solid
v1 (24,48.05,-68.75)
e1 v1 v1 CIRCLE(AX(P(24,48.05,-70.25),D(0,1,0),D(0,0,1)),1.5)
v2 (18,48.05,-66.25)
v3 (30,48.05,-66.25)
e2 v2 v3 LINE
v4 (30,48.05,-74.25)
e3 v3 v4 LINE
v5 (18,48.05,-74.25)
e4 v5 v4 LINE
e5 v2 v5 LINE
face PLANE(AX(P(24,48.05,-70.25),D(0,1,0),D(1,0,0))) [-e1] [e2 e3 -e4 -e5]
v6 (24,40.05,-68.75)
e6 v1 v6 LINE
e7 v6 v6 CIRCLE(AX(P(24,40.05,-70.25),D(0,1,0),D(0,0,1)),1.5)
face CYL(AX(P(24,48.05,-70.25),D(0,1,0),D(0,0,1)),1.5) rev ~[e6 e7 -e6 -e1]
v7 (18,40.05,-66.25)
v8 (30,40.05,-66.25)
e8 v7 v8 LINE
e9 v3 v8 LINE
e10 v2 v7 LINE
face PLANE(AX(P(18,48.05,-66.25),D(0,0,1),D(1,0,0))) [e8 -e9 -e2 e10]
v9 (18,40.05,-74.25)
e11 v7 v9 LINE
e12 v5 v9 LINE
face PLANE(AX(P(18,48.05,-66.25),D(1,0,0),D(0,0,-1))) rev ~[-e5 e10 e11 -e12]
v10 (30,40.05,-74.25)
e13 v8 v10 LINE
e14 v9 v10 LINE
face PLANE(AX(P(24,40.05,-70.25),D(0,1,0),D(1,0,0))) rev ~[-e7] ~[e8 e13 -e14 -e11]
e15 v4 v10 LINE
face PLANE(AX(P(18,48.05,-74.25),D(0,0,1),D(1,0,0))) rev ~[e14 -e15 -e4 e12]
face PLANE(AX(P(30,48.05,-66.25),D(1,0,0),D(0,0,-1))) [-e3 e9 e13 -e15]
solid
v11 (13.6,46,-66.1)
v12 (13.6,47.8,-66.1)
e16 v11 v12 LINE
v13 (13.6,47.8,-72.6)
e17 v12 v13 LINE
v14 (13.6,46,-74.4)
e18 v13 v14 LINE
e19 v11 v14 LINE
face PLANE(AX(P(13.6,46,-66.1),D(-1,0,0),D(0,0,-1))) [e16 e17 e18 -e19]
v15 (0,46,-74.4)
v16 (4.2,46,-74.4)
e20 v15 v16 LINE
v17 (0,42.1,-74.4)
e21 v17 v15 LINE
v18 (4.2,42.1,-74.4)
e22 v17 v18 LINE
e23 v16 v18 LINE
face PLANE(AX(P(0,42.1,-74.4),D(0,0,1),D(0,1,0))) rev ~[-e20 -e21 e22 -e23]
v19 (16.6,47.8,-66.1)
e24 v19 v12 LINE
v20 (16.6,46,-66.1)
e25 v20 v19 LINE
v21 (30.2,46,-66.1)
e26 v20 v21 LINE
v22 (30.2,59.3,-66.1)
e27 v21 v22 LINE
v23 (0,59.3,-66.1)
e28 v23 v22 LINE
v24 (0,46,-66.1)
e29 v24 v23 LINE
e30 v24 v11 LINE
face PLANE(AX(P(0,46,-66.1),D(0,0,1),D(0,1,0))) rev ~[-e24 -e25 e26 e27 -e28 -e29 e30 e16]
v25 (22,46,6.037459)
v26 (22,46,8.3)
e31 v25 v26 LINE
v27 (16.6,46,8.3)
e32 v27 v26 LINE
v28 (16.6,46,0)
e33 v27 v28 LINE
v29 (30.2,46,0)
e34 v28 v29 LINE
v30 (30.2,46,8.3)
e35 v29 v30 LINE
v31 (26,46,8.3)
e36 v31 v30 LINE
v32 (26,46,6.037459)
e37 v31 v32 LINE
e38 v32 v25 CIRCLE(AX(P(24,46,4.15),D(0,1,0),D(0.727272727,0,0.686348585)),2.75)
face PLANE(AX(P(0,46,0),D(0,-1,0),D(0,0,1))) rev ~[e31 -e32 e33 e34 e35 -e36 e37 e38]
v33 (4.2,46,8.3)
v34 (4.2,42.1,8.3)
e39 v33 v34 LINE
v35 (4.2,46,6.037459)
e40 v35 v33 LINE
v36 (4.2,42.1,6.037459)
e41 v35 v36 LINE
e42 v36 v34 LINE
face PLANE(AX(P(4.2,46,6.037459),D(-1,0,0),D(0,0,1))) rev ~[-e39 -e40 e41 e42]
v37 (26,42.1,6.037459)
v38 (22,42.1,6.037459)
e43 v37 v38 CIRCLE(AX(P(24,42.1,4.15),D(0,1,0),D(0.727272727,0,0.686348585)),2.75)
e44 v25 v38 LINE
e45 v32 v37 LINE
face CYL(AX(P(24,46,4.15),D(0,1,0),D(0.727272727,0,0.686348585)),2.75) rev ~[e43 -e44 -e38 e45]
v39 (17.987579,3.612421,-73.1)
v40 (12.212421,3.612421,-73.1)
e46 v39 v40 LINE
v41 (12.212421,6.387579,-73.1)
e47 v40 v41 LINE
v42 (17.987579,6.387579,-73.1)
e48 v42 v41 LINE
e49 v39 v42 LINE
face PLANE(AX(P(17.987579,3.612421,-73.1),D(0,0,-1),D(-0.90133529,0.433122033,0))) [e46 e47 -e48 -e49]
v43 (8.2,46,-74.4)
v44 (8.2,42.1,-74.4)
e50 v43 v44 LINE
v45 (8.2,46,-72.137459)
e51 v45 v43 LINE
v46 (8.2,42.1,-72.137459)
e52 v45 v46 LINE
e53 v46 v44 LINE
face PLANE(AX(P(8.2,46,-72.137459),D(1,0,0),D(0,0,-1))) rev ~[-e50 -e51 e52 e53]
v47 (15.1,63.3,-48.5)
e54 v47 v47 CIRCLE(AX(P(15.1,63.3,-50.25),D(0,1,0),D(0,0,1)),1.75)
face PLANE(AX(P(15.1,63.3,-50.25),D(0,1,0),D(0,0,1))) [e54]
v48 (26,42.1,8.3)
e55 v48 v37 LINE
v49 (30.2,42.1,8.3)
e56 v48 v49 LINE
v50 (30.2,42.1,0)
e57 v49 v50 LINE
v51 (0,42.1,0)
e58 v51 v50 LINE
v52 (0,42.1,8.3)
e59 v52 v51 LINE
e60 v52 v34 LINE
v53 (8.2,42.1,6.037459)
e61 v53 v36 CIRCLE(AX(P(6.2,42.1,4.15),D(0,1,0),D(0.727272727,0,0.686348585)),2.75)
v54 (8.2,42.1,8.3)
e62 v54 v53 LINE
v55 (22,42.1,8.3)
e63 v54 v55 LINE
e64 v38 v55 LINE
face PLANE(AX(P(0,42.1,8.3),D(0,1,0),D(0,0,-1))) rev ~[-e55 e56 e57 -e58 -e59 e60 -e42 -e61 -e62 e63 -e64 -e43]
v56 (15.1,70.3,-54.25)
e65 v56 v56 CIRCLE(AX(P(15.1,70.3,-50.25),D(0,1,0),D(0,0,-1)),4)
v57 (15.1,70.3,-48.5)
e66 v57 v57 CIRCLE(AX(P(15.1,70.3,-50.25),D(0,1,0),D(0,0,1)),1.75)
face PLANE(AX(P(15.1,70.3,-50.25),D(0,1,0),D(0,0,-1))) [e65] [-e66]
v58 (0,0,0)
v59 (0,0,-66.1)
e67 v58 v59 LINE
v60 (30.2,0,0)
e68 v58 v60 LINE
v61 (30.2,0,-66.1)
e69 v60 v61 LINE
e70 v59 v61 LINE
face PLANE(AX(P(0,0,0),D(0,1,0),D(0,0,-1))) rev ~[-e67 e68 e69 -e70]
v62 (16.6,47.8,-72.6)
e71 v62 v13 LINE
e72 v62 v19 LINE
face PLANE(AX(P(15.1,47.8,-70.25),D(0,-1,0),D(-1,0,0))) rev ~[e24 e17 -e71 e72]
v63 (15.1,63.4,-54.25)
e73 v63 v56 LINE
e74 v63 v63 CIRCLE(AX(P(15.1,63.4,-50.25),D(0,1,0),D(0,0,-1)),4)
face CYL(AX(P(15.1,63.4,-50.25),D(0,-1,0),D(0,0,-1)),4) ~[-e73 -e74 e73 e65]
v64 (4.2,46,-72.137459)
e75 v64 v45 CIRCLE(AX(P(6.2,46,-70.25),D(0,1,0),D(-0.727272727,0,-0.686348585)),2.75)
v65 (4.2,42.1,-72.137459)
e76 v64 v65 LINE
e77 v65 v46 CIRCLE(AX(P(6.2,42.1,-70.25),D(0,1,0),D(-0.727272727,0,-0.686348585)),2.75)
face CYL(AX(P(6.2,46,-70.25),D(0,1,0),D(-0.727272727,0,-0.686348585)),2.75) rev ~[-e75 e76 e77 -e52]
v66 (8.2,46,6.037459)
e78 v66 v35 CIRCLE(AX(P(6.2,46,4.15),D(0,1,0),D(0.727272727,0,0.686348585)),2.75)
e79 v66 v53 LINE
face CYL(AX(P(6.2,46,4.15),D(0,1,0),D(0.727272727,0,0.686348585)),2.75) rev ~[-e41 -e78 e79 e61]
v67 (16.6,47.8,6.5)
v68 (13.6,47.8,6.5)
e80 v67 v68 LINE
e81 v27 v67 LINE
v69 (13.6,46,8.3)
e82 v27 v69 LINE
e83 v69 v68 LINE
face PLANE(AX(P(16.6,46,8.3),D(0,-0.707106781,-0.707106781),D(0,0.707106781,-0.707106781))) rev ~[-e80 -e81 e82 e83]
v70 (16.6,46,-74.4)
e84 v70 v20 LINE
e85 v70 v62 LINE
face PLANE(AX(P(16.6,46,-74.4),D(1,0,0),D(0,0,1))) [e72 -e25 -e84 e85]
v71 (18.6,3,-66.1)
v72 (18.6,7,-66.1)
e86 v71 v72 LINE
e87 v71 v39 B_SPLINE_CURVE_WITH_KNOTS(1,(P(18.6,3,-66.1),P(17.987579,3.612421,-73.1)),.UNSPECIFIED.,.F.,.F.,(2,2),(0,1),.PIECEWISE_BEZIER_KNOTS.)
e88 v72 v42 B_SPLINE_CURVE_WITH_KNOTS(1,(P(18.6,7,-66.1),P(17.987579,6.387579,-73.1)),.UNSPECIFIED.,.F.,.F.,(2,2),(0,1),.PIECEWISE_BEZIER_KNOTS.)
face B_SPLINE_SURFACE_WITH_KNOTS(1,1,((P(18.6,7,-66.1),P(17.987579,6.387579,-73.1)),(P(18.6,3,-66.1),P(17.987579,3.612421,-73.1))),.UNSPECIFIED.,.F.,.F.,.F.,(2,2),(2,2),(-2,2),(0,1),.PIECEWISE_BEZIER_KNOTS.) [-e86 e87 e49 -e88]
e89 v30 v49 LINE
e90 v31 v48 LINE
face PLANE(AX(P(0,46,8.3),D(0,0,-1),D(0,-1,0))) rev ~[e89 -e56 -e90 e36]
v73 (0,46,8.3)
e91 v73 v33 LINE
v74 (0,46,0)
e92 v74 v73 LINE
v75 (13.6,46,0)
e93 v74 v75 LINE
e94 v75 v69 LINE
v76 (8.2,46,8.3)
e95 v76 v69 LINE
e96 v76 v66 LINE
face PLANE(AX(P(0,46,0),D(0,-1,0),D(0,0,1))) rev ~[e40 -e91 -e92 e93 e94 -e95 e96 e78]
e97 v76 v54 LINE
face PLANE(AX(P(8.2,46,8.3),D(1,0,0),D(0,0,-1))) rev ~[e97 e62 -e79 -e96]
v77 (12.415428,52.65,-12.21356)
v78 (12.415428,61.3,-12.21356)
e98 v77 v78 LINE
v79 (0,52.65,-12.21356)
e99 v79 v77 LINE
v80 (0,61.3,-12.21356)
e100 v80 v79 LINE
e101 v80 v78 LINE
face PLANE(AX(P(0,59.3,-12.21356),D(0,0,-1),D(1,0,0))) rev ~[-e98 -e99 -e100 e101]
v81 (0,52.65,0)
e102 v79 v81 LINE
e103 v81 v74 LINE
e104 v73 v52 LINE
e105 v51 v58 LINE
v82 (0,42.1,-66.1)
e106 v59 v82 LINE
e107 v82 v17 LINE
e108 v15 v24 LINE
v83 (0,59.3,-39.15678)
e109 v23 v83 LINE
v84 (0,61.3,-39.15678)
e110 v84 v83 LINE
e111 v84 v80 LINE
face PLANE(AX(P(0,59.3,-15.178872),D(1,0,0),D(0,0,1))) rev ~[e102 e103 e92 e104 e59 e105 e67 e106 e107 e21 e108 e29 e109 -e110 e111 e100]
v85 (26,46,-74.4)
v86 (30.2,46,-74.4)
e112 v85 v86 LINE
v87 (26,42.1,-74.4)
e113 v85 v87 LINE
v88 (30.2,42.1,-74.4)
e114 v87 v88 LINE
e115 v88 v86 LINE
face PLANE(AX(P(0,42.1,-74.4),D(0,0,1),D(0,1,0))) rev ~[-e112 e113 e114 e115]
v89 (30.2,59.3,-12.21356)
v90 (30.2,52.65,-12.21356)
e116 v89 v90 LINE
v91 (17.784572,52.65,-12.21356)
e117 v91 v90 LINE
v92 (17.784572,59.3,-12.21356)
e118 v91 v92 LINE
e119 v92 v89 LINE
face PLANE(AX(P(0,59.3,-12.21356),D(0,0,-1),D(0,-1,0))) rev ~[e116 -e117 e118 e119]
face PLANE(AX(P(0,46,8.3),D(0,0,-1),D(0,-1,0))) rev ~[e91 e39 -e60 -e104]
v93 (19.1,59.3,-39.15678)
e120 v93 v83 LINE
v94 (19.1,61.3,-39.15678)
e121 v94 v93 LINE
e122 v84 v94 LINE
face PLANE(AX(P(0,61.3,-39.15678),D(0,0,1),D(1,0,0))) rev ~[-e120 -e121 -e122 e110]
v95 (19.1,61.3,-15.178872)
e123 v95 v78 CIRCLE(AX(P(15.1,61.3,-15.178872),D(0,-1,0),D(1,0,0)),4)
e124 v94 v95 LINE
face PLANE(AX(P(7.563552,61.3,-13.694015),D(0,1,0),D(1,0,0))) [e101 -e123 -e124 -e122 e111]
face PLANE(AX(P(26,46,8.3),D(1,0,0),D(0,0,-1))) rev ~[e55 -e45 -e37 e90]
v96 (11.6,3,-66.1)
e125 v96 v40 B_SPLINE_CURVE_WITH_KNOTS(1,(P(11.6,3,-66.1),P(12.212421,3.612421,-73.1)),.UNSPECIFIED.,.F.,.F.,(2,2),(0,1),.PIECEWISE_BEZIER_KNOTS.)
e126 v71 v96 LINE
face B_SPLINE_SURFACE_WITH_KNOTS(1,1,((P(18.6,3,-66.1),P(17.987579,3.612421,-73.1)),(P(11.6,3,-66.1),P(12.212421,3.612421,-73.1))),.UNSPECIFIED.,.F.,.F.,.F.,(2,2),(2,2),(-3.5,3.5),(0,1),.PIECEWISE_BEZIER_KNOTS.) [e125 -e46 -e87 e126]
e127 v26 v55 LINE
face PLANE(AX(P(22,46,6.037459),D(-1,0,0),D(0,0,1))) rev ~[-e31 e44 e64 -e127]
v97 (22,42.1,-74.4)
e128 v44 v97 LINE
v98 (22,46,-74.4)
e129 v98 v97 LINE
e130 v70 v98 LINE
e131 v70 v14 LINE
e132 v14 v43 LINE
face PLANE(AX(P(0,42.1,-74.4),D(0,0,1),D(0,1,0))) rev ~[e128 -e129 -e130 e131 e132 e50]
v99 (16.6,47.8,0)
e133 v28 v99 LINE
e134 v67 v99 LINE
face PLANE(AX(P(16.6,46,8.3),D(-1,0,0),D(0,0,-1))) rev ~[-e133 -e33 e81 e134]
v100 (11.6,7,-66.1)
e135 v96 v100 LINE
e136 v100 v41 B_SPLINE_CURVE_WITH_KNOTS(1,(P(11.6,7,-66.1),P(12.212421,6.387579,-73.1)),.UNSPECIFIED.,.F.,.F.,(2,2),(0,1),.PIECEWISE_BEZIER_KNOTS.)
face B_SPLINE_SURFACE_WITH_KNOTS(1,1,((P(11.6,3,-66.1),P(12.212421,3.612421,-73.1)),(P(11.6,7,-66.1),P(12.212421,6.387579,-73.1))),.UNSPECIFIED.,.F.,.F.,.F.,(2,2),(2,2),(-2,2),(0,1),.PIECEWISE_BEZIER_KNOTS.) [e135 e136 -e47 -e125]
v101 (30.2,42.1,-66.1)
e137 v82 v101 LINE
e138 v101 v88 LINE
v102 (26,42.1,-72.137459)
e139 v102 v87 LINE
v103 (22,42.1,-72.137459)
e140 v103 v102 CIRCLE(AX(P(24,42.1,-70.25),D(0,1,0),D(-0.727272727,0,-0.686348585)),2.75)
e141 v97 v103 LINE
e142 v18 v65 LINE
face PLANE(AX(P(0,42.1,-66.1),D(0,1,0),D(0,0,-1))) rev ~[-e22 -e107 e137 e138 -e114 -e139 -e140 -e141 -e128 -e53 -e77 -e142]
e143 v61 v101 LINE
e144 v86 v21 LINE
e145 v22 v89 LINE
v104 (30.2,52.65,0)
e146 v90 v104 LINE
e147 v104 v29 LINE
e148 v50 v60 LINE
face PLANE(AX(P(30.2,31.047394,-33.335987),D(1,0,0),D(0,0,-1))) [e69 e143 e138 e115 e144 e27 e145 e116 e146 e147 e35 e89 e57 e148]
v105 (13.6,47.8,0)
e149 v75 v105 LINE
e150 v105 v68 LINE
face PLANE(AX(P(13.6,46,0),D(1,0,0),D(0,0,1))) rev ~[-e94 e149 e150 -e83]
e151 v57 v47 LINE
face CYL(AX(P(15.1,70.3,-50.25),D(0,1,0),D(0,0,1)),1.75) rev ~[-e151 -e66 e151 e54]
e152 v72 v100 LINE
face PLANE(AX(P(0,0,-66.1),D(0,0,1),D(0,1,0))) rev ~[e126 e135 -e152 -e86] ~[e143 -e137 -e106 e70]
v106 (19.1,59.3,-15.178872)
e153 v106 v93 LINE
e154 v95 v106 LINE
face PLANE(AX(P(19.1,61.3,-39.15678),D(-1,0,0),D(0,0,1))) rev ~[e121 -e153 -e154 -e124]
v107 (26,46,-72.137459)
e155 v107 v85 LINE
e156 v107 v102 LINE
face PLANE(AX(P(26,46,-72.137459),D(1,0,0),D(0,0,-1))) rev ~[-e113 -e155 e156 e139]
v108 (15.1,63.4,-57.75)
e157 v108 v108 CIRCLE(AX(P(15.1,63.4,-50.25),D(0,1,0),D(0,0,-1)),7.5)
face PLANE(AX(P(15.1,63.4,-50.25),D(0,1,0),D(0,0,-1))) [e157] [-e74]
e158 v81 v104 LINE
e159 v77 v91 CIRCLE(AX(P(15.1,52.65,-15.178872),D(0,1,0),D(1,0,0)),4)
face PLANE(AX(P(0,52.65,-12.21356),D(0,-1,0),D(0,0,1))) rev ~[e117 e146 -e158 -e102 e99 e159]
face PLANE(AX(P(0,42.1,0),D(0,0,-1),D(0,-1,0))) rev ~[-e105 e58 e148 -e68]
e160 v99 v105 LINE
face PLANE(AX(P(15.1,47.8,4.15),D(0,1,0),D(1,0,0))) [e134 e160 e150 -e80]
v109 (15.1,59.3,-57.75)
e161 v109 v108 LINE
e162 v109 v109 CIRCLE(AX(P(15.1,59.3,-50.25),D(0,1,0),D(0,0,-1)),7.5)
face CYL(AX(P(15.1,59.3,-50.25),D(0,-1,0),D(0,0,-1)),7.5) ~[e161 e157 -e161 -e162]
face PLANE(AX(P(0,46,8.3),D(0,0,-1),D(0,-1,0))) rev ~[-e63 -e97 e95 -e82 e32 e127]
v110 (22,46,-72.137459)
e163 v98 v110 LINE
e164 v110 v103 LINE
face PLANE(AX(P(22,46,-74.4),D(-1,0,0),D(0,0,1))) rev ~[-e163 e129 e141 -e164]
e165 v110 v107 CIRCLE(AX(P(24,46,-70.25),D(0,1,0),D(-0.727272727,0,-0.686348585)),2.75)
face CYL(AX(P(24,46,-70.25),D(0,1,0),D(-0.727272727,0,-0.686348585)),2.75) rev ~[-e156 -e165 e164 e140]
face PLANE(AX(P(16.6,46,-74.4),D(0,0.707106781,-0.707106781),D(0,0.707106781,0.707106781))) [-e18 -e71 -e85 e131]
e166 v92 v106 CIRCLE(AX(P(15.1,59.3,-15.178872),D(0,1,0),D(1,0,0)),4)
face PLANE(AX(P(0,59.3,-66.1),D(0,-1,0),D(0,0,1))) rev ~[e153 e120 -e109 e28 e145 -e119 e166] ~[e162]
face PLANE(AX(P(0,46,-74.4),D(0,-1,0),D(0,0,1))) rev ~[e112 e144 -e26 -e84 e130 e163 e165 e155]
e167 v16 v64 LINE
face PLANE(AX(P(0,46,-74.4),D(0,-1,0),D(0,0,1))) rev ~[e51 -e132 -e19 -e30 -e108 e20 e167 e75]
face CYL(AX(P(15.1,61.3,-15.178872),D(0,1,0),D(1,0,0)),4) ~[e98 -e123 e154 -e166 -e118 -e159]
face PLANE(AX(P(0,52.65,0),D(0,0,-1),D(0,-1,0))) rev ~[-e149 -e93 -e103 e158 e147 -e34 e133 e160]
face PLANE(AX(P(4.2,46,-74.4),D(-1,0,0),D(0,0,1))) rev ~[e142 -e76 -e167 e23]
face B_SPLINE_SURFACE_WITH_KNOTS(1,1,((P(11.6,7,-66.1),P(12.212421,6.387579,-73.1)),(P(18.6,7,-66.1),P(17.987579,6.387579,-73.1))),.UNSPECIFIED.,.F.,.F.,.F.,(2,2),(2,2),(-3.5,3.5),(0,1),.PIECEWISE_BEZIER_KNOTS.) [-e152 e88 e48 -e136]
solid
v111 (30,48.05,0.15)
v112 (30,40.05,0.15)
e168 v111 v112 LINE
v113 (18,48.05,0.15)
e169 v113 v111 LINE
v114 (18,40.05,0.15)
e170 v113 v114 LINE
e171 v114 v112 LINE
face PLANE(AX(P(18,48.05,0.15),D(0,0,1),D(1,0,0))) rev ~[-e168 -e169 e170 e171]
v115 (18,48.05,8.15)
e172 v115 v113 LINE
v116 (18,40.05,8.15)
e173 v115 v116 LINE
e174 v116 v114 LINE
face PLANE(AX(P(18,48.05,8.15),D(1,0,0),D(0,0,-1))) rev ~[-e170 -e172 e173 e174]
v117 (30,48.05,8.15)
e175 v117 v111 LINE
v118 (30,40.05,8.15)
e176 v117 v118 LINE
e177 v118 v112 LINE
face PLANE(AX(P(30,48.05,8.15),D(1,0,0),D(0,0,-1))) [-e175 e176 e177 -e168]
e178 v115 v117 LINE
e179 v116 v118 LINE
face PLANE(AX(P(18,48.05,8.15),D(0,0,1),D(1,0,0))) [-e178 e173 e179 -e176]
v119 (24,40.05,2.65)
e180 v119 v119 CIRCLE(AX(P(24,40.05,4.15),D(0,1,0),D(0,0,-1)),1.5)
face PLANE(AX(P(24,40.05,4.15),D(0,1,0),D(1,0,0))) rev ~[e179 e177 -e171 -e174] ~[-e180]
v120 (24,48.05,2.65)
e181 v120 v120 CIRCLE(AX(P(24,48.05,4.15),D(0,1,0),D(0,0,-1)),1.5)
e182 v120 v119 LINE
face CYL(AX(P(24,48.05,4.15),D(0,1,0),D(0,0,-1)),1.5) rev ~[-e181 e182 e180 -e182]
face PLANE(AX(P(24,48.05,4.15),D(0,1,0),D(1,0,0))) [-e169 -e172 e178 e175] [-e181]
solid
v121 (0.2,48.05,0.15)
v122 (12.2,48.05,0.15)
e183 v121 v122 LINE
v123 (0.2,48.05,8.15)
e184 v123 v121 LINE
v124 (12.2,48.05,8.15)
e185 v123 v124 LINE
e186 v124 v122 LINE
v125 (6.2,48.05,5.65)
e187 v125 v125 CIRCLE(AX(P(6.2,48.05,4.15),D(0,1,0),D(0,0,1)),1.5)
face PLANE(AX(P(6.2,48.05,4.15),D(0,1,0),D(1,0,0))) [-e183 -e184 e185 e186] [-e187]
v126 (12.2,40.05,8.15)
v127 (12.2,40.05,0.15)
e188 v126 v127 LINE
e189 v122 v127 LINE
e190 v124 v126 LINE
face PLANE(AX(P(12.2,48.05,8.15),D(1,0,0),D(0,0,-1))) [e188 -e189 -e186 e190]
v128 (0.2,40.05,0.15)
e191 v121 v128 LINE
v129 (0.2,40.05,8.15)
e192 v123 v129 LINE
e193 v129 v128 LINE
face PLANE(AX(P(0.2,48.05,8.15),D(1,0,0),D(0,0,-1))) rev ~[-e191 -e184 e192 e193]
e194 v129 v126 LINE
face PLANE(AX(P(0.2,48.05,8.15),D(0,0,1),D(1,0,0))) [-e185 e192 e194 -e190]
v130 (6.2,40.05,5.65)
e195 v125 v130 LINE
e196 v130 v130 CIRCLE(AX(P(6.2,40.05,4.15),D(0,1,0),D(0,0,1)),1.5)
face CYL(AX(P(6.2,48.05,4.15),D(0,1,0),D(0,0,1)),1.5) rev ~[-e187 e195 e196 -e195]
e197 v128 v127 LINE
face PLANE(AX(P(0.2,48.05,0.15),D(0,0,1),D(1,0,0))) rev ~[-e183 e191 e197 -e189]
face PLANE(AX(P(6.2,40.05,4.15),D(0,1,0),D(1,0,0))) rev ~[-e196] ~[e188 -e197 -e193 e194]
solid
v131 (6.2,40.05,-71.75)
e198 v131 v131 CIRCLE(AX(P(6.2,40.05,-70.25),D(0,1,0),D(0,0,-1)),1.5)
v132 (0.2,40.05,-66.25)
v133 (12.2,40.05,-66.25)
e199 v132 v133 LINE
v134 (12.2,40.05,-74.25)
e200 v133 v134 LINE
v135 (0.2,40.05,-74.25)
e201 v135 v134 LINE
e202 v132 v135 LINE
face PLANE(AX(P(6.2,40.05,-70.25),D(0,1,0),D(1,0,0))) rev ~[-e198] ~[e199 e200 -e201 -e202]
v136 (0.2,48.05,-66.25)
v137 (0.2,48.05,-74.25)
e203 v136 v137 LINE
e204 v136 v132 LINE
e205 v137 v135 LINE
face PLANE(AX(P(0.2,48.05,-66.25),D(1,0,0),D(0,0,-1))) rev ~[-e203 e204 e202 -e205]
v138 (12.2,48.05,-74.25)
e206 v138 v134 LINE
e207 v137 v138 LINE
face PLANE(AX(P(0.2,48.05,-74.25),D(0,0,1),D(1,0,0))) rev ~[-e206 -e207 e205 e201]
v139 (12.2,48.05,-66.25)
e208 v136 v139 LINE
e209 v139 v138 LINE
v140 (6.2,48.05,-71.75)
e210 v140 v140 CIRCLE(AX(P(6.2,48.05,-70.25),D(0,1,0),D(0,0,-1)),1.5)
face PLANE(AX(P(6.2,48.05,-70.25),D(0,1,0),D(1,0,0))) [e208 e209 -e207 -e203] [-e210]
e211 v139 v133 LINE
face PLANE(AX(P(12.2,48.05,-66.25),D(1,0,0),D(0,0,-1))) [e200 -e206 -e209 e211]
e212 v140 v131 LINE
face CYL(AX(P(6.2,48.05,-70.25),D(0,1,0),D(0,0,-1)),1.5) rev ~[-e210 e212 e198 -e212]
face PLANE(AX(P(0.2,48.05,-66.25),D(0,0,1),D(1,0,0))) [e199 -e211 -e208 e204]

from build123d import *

# Parameters (mm, degrees)
BOSS_EXTRUDE1_DEPTH  = 30.2
CUT_EXTRUDE3_DEPTH   = 6.9
SKETCH10_R           = 7.5
BOSS_EXTRUDE6_DEPTH  = 4.1
SKETCH11_R           = 4
BOSS_EXTRUDE7_DEPTH  = 6.9
BOSS_EXTRUDE8_DEPTH  = 8.9
BOSS_EXTRUDE9_DEPTH  = 2
BOSS_EXTRUDE10_DEPTH = 1.8
CUT_EXTRUDE5_DEPTH   = 4
SKETCH23_R           = 1.75
CUT_EXTRUDE6_DEPTH   = 7
ESQUISSE1_W          = 7
ESQUISSE1_H          = 4
BOSS_EXTRU_1_DEPTH   = 7
BOSS_EXTRU_1_TAPER   = 5
BOSS_EXTRU_2_START   = 2.05
ESQUISSE2_W          = 12
ESQUISSE2_H          = 8
ESQUISSE2_R          = 1.5
BOSS_EXTRU_2_DEPTH   = 8
BOSS_EXTRU_2_2_DEPTH = 8
BOSS_EXTRU_2_3_DEPTH = 8
BOSS_EXTRU_2_4_DEPTH = 8


with BuildPart() as part:
    # Sketch1 → Boss-Extrude1 (new body)
    with BuildSketch(Plane(origin=(0, 0, 0), x_dir=(0, 0, -1), z_dir=(1, 0, 0))):
        Polygon((0, 0), (66.1, 0), (66.1, 42.1), (74.4, 42.1), (74.4, 46), (66.1, 46), (66.1, 59.3), (12.213560369, 59.3), (12.213560369, 52.65), (0, 52.65), (0, 46), (-8.3, 46), (-8.3, 42.1), (0, 42.1), align=None)
    extrude(amount=BOSS_EXTRUDE1_DEPTH)

    # Sketch9 → Cut-Extrude3 (cut)
    with BuildSketch(Plane(origin=(0, 46, 0), x_dir=(1, 0, 0), z_dir=(0, 1, 0))):
        with BuildLine():
            Line((22, 74.4), (22, 72.137458609))
            ThreePointArc((22, 72.137458609), (24, 67.5), (26, 72.137458609))
            Line((26, 72.137458609), (26, 74.4))
            Line((26, 74.4), (24, 74.4))
            Line((24, 74.4), (22, 74.4))
        make_face()
        with BuildLine():
            Line((6.2, 74.4), (4.2, 74.4))
            Line((4.2, 74.4), (4.2, 72.137458609))
            ThreePointArc((4.2, 72.137458609), (6.2, 67.5), (8.2, 72.137458609))
            Line((8.2, 72.137458609), (8.2, 74.4))
            Line((8.2, 74.4), (6.2, 74.4))
        make_face()
        with BuildLine():
            Line((24, -8.3), (26, -8.3))
            Line((26, -8.3), (26, -6.037458609))
            ThreePointArc((26, -6.037458609), (24, -1.4), (22, -6.037458609))
            Line((22, -6.037458609), (22, -8.3))
            Line((22, -8.3), (24, -8.3))
        make_face()
        with BuildLine():
            Line((8.2, -8.3), (8.2, -6.037458609))
            ThreePointArc((8.2, -6.037458609), (6.2, -1.4), (4.2, -6.037458609))
            Line((4.2, -6.037458609), (4.2, -8.3))
            Line((4.2, -8.3), (6.2, -8.3))
            Line((6.2, -8.3), (8.2, -8.3))
        make_face()
    extrude(amount=-CUT_EXTRUDE3_DEPTH, mode=Mode.SUBTRACT)

    # Sketch10 → Boss-Extrude6 (add)
    with BuildSketch(Plane(origin=(0, 59.3, 0), x_dir=(1, 0, 0), z_dir=(0, 1, 0))):
        with Locations(Location((15.1, 50.25, 0), (0, 0, 90))):
            Circle(SKETCH10_R)
    extrude(amount=BOSS_EXTRUDE6_DEPTH)

    # Sketch11 → Boss-Extrude7 (add)
    with BuildSketch(Plane(origin=(0, 63.4, 0), x_dir=(1, 0, 0), z_dir=(0, 1, 0))):
        with Locations(Location((15.1, 50.25, 0), (0, 0, 90))):
            Circle(SKETCH11_R)
    extrude(amount=BOSS_EXTRUDE7_DEPTH)

    # Sketch14 → Boss-Extrude8 (add)
    with BuildSketch(Plane(origin=(0, 61.3, 0), x_dir=(1, 0, 0), z_dir=(0, 1, 0))):
        with BuildLine():
            Line((0, 39.156780185), (15.1, 39.156780185))
            Line((15.1, 39.156780185), (19.1, 39.156780185))
            Line((19.1, 39.156780185), (19.1, 15.178872415))
            ThreePointArc((19.1, 15.178872415), (15.1, 11.178872415), (11.1, 15.178872415))
            Line((11.1, 15.178872415), (0, 15.178872415))
            Line((0, 15.178872415), (0, 39.156780185))
        make_face()
    extrude(amount=-BOSS_EXTRUDE8_DEPTH)

    # Sketch17 → Boss-Extrude9 (add)
    with BuildSketch(Plane(origin=(0, 59.3, 0), x_dir=(1, 0, 0), z_dir=(0, 1, 0))):
        Polygon((0, 12.213560369), (15.153721143, 12.213560369), (15.1, 15.178872415), (0, 15.178872415), align=None)
    extrude(amount=BOSS_EXTRUDE9_DEPTH)

    # Sketch18 → Boss-Extrude10 (add)
    with BuildSketch(Plane(origin=(0, 46, 0), x_dir=(1, 0, 0), z_dir=(0, 1, 0))):
        Polygon((15.1, 74.4), (16.6, 74.4), (16.6, 66.1), (13.6, 66.1), (13.6, 74.4), align=None)
        Polygon((13.6, -8.3), (15.1, -8.3), (16.6, -8.3), (16.6, 0), (13.6, 0), align=None)
    extrude(amount=BOSS_EXTRUDE10_DEPTH)

    # Sketch22 → Cut-Extrude5 (cut)
    with BuildSketch(Plane(origin=(16.6, 0, 0), x_dir=(0, 0, -1), z_dir=(1, 0, 0))):
        Polygon((74.4, 46), (72.6, 47.8), (74.4, 47.8), align=None)
        Polygon((-8.3, 47.8), (-8.3, 46), (-6.5, 47.8), align=None)
    extrude(amount=-CUT_EXTRUDE5_DEPTH, mode=Mode.SUBTRACT)

    # Sketch23 → Cut-Extrude6 (cut)
    with BuildSketch(Plane(origin=(0, 70.3, 0), x_dir=(1, 0, 0), z_dir=(0, 1, 0))):
        with Locations(Location((15.1, 50.25, 0), (0, 0, 270))):
            Circle(SKETCH23_R)
    extrude(amount=-CUT_EXTRUDE6_DEPTH, mode=Mode.SUBTRACT)

    # Esquisse1 → Boss.-Extru.1 (add)
    with BuildSketch(Plane(origin=(0, 0, -66.1), x_dir=(-1, 0, 0), z_dir=(0, 0, -1))):
        with Locations((-15.1, 5)):
            Rectangle(ESQUISSE1_W, ESQUISSE1_H)
    extrude(amount=BOSS_EXTRU_1_DEPTH, taper=BOSS_EXTRU_1_TAPER)


with BuildPart() as body_2:
    # Esquisse2 → Boss.-Extru.2 (new body)
    with BuildSketch(Plane(origin=(0, 46, 0), x_dir=(1, 0, 0), z_dir=(0, 1, 0)).offset(BOSS_EXTRU_2_START)):
        with Locations((6.2, -4.15)):
            Rectangle(ESQUISSE2_W, ESQUISSE2_H)
        with Locations(Location((6.2, -4.15, 0), (0, 0, 270))):
            Circle(ESQUISSE2_R, mode=Mode.SUBTRACT)
    extrude(amount=-BOSS_EXTRU_2_DEPTH)


with BuildPart() as body_3:
    # Esquisse2 → Boss.-Extru.2 2 (new body)
    with BuildSketch(Plane(origin=(0, 46, 0), x_dir=(1, 0, 0), z_dir=(0, 1, 0)).offset(BOSS_EXTRU_2_START)):
        with Locations((24, -4.15)):
            Rectangle(ESQUISSE2_W, ESQUISSE2_H)
        with Locations(Location((24, -4.15, 0), (0, 0, 90))):
            Circle(ESQUISSE2_R, mode=Mode.SUBTRACT)
    extrude(amount=-BOSS_EXTRU_2_2_DEPTH)


with BuildPart() as body_4:
    # Esquisse2 → Boss.-Extru.2 3 (new body)
    with BuildSketch(Plane(origin=(0, 46, 0), x_dir=(1, 0, 0), z_dir=(0, 1, 0)).offset(BOSS_EXTRU_2_START)):
        with Locations((24, 70.25)):
            Rectangle(ESQUISSE2_W, ESQUISSE2_H)
        with Locations(Location((24, 70.25, 0), (0, 0, 270))):
            Circle(ESQUISSE2_R, mode=Mode.SUBTRACT)
    extrude(amount=-BOSS_EXTRU_2_3_DEPTH)


with BuildPart() as body_5:
    # Esquisse2 → Boss.-Extru.2 4 (new body)
    with BuildSketch(Plane(origin=(0, 46, 0), x_dir=(1, 0, 0), z_dir=(0, 1, 0)).offset(BOSS_EXTRU_2_START)):
        with Locations((6.2, 70.25)):
            Rectangle(ESQUISSE2_W, ESQUISSE2_H)
        with Locations(Location((6.2, 70.25, 0), (0, 0, 90))):
            Circle(ESQUISSE2_R, mode=Mode.SUBTRACT)
    extrude(amount=-BOSS_EXTRU_2_4_DEPTH)


solid = Compound([part.part, body_2.part, body_3.part, body_4.part, body_5.part])
